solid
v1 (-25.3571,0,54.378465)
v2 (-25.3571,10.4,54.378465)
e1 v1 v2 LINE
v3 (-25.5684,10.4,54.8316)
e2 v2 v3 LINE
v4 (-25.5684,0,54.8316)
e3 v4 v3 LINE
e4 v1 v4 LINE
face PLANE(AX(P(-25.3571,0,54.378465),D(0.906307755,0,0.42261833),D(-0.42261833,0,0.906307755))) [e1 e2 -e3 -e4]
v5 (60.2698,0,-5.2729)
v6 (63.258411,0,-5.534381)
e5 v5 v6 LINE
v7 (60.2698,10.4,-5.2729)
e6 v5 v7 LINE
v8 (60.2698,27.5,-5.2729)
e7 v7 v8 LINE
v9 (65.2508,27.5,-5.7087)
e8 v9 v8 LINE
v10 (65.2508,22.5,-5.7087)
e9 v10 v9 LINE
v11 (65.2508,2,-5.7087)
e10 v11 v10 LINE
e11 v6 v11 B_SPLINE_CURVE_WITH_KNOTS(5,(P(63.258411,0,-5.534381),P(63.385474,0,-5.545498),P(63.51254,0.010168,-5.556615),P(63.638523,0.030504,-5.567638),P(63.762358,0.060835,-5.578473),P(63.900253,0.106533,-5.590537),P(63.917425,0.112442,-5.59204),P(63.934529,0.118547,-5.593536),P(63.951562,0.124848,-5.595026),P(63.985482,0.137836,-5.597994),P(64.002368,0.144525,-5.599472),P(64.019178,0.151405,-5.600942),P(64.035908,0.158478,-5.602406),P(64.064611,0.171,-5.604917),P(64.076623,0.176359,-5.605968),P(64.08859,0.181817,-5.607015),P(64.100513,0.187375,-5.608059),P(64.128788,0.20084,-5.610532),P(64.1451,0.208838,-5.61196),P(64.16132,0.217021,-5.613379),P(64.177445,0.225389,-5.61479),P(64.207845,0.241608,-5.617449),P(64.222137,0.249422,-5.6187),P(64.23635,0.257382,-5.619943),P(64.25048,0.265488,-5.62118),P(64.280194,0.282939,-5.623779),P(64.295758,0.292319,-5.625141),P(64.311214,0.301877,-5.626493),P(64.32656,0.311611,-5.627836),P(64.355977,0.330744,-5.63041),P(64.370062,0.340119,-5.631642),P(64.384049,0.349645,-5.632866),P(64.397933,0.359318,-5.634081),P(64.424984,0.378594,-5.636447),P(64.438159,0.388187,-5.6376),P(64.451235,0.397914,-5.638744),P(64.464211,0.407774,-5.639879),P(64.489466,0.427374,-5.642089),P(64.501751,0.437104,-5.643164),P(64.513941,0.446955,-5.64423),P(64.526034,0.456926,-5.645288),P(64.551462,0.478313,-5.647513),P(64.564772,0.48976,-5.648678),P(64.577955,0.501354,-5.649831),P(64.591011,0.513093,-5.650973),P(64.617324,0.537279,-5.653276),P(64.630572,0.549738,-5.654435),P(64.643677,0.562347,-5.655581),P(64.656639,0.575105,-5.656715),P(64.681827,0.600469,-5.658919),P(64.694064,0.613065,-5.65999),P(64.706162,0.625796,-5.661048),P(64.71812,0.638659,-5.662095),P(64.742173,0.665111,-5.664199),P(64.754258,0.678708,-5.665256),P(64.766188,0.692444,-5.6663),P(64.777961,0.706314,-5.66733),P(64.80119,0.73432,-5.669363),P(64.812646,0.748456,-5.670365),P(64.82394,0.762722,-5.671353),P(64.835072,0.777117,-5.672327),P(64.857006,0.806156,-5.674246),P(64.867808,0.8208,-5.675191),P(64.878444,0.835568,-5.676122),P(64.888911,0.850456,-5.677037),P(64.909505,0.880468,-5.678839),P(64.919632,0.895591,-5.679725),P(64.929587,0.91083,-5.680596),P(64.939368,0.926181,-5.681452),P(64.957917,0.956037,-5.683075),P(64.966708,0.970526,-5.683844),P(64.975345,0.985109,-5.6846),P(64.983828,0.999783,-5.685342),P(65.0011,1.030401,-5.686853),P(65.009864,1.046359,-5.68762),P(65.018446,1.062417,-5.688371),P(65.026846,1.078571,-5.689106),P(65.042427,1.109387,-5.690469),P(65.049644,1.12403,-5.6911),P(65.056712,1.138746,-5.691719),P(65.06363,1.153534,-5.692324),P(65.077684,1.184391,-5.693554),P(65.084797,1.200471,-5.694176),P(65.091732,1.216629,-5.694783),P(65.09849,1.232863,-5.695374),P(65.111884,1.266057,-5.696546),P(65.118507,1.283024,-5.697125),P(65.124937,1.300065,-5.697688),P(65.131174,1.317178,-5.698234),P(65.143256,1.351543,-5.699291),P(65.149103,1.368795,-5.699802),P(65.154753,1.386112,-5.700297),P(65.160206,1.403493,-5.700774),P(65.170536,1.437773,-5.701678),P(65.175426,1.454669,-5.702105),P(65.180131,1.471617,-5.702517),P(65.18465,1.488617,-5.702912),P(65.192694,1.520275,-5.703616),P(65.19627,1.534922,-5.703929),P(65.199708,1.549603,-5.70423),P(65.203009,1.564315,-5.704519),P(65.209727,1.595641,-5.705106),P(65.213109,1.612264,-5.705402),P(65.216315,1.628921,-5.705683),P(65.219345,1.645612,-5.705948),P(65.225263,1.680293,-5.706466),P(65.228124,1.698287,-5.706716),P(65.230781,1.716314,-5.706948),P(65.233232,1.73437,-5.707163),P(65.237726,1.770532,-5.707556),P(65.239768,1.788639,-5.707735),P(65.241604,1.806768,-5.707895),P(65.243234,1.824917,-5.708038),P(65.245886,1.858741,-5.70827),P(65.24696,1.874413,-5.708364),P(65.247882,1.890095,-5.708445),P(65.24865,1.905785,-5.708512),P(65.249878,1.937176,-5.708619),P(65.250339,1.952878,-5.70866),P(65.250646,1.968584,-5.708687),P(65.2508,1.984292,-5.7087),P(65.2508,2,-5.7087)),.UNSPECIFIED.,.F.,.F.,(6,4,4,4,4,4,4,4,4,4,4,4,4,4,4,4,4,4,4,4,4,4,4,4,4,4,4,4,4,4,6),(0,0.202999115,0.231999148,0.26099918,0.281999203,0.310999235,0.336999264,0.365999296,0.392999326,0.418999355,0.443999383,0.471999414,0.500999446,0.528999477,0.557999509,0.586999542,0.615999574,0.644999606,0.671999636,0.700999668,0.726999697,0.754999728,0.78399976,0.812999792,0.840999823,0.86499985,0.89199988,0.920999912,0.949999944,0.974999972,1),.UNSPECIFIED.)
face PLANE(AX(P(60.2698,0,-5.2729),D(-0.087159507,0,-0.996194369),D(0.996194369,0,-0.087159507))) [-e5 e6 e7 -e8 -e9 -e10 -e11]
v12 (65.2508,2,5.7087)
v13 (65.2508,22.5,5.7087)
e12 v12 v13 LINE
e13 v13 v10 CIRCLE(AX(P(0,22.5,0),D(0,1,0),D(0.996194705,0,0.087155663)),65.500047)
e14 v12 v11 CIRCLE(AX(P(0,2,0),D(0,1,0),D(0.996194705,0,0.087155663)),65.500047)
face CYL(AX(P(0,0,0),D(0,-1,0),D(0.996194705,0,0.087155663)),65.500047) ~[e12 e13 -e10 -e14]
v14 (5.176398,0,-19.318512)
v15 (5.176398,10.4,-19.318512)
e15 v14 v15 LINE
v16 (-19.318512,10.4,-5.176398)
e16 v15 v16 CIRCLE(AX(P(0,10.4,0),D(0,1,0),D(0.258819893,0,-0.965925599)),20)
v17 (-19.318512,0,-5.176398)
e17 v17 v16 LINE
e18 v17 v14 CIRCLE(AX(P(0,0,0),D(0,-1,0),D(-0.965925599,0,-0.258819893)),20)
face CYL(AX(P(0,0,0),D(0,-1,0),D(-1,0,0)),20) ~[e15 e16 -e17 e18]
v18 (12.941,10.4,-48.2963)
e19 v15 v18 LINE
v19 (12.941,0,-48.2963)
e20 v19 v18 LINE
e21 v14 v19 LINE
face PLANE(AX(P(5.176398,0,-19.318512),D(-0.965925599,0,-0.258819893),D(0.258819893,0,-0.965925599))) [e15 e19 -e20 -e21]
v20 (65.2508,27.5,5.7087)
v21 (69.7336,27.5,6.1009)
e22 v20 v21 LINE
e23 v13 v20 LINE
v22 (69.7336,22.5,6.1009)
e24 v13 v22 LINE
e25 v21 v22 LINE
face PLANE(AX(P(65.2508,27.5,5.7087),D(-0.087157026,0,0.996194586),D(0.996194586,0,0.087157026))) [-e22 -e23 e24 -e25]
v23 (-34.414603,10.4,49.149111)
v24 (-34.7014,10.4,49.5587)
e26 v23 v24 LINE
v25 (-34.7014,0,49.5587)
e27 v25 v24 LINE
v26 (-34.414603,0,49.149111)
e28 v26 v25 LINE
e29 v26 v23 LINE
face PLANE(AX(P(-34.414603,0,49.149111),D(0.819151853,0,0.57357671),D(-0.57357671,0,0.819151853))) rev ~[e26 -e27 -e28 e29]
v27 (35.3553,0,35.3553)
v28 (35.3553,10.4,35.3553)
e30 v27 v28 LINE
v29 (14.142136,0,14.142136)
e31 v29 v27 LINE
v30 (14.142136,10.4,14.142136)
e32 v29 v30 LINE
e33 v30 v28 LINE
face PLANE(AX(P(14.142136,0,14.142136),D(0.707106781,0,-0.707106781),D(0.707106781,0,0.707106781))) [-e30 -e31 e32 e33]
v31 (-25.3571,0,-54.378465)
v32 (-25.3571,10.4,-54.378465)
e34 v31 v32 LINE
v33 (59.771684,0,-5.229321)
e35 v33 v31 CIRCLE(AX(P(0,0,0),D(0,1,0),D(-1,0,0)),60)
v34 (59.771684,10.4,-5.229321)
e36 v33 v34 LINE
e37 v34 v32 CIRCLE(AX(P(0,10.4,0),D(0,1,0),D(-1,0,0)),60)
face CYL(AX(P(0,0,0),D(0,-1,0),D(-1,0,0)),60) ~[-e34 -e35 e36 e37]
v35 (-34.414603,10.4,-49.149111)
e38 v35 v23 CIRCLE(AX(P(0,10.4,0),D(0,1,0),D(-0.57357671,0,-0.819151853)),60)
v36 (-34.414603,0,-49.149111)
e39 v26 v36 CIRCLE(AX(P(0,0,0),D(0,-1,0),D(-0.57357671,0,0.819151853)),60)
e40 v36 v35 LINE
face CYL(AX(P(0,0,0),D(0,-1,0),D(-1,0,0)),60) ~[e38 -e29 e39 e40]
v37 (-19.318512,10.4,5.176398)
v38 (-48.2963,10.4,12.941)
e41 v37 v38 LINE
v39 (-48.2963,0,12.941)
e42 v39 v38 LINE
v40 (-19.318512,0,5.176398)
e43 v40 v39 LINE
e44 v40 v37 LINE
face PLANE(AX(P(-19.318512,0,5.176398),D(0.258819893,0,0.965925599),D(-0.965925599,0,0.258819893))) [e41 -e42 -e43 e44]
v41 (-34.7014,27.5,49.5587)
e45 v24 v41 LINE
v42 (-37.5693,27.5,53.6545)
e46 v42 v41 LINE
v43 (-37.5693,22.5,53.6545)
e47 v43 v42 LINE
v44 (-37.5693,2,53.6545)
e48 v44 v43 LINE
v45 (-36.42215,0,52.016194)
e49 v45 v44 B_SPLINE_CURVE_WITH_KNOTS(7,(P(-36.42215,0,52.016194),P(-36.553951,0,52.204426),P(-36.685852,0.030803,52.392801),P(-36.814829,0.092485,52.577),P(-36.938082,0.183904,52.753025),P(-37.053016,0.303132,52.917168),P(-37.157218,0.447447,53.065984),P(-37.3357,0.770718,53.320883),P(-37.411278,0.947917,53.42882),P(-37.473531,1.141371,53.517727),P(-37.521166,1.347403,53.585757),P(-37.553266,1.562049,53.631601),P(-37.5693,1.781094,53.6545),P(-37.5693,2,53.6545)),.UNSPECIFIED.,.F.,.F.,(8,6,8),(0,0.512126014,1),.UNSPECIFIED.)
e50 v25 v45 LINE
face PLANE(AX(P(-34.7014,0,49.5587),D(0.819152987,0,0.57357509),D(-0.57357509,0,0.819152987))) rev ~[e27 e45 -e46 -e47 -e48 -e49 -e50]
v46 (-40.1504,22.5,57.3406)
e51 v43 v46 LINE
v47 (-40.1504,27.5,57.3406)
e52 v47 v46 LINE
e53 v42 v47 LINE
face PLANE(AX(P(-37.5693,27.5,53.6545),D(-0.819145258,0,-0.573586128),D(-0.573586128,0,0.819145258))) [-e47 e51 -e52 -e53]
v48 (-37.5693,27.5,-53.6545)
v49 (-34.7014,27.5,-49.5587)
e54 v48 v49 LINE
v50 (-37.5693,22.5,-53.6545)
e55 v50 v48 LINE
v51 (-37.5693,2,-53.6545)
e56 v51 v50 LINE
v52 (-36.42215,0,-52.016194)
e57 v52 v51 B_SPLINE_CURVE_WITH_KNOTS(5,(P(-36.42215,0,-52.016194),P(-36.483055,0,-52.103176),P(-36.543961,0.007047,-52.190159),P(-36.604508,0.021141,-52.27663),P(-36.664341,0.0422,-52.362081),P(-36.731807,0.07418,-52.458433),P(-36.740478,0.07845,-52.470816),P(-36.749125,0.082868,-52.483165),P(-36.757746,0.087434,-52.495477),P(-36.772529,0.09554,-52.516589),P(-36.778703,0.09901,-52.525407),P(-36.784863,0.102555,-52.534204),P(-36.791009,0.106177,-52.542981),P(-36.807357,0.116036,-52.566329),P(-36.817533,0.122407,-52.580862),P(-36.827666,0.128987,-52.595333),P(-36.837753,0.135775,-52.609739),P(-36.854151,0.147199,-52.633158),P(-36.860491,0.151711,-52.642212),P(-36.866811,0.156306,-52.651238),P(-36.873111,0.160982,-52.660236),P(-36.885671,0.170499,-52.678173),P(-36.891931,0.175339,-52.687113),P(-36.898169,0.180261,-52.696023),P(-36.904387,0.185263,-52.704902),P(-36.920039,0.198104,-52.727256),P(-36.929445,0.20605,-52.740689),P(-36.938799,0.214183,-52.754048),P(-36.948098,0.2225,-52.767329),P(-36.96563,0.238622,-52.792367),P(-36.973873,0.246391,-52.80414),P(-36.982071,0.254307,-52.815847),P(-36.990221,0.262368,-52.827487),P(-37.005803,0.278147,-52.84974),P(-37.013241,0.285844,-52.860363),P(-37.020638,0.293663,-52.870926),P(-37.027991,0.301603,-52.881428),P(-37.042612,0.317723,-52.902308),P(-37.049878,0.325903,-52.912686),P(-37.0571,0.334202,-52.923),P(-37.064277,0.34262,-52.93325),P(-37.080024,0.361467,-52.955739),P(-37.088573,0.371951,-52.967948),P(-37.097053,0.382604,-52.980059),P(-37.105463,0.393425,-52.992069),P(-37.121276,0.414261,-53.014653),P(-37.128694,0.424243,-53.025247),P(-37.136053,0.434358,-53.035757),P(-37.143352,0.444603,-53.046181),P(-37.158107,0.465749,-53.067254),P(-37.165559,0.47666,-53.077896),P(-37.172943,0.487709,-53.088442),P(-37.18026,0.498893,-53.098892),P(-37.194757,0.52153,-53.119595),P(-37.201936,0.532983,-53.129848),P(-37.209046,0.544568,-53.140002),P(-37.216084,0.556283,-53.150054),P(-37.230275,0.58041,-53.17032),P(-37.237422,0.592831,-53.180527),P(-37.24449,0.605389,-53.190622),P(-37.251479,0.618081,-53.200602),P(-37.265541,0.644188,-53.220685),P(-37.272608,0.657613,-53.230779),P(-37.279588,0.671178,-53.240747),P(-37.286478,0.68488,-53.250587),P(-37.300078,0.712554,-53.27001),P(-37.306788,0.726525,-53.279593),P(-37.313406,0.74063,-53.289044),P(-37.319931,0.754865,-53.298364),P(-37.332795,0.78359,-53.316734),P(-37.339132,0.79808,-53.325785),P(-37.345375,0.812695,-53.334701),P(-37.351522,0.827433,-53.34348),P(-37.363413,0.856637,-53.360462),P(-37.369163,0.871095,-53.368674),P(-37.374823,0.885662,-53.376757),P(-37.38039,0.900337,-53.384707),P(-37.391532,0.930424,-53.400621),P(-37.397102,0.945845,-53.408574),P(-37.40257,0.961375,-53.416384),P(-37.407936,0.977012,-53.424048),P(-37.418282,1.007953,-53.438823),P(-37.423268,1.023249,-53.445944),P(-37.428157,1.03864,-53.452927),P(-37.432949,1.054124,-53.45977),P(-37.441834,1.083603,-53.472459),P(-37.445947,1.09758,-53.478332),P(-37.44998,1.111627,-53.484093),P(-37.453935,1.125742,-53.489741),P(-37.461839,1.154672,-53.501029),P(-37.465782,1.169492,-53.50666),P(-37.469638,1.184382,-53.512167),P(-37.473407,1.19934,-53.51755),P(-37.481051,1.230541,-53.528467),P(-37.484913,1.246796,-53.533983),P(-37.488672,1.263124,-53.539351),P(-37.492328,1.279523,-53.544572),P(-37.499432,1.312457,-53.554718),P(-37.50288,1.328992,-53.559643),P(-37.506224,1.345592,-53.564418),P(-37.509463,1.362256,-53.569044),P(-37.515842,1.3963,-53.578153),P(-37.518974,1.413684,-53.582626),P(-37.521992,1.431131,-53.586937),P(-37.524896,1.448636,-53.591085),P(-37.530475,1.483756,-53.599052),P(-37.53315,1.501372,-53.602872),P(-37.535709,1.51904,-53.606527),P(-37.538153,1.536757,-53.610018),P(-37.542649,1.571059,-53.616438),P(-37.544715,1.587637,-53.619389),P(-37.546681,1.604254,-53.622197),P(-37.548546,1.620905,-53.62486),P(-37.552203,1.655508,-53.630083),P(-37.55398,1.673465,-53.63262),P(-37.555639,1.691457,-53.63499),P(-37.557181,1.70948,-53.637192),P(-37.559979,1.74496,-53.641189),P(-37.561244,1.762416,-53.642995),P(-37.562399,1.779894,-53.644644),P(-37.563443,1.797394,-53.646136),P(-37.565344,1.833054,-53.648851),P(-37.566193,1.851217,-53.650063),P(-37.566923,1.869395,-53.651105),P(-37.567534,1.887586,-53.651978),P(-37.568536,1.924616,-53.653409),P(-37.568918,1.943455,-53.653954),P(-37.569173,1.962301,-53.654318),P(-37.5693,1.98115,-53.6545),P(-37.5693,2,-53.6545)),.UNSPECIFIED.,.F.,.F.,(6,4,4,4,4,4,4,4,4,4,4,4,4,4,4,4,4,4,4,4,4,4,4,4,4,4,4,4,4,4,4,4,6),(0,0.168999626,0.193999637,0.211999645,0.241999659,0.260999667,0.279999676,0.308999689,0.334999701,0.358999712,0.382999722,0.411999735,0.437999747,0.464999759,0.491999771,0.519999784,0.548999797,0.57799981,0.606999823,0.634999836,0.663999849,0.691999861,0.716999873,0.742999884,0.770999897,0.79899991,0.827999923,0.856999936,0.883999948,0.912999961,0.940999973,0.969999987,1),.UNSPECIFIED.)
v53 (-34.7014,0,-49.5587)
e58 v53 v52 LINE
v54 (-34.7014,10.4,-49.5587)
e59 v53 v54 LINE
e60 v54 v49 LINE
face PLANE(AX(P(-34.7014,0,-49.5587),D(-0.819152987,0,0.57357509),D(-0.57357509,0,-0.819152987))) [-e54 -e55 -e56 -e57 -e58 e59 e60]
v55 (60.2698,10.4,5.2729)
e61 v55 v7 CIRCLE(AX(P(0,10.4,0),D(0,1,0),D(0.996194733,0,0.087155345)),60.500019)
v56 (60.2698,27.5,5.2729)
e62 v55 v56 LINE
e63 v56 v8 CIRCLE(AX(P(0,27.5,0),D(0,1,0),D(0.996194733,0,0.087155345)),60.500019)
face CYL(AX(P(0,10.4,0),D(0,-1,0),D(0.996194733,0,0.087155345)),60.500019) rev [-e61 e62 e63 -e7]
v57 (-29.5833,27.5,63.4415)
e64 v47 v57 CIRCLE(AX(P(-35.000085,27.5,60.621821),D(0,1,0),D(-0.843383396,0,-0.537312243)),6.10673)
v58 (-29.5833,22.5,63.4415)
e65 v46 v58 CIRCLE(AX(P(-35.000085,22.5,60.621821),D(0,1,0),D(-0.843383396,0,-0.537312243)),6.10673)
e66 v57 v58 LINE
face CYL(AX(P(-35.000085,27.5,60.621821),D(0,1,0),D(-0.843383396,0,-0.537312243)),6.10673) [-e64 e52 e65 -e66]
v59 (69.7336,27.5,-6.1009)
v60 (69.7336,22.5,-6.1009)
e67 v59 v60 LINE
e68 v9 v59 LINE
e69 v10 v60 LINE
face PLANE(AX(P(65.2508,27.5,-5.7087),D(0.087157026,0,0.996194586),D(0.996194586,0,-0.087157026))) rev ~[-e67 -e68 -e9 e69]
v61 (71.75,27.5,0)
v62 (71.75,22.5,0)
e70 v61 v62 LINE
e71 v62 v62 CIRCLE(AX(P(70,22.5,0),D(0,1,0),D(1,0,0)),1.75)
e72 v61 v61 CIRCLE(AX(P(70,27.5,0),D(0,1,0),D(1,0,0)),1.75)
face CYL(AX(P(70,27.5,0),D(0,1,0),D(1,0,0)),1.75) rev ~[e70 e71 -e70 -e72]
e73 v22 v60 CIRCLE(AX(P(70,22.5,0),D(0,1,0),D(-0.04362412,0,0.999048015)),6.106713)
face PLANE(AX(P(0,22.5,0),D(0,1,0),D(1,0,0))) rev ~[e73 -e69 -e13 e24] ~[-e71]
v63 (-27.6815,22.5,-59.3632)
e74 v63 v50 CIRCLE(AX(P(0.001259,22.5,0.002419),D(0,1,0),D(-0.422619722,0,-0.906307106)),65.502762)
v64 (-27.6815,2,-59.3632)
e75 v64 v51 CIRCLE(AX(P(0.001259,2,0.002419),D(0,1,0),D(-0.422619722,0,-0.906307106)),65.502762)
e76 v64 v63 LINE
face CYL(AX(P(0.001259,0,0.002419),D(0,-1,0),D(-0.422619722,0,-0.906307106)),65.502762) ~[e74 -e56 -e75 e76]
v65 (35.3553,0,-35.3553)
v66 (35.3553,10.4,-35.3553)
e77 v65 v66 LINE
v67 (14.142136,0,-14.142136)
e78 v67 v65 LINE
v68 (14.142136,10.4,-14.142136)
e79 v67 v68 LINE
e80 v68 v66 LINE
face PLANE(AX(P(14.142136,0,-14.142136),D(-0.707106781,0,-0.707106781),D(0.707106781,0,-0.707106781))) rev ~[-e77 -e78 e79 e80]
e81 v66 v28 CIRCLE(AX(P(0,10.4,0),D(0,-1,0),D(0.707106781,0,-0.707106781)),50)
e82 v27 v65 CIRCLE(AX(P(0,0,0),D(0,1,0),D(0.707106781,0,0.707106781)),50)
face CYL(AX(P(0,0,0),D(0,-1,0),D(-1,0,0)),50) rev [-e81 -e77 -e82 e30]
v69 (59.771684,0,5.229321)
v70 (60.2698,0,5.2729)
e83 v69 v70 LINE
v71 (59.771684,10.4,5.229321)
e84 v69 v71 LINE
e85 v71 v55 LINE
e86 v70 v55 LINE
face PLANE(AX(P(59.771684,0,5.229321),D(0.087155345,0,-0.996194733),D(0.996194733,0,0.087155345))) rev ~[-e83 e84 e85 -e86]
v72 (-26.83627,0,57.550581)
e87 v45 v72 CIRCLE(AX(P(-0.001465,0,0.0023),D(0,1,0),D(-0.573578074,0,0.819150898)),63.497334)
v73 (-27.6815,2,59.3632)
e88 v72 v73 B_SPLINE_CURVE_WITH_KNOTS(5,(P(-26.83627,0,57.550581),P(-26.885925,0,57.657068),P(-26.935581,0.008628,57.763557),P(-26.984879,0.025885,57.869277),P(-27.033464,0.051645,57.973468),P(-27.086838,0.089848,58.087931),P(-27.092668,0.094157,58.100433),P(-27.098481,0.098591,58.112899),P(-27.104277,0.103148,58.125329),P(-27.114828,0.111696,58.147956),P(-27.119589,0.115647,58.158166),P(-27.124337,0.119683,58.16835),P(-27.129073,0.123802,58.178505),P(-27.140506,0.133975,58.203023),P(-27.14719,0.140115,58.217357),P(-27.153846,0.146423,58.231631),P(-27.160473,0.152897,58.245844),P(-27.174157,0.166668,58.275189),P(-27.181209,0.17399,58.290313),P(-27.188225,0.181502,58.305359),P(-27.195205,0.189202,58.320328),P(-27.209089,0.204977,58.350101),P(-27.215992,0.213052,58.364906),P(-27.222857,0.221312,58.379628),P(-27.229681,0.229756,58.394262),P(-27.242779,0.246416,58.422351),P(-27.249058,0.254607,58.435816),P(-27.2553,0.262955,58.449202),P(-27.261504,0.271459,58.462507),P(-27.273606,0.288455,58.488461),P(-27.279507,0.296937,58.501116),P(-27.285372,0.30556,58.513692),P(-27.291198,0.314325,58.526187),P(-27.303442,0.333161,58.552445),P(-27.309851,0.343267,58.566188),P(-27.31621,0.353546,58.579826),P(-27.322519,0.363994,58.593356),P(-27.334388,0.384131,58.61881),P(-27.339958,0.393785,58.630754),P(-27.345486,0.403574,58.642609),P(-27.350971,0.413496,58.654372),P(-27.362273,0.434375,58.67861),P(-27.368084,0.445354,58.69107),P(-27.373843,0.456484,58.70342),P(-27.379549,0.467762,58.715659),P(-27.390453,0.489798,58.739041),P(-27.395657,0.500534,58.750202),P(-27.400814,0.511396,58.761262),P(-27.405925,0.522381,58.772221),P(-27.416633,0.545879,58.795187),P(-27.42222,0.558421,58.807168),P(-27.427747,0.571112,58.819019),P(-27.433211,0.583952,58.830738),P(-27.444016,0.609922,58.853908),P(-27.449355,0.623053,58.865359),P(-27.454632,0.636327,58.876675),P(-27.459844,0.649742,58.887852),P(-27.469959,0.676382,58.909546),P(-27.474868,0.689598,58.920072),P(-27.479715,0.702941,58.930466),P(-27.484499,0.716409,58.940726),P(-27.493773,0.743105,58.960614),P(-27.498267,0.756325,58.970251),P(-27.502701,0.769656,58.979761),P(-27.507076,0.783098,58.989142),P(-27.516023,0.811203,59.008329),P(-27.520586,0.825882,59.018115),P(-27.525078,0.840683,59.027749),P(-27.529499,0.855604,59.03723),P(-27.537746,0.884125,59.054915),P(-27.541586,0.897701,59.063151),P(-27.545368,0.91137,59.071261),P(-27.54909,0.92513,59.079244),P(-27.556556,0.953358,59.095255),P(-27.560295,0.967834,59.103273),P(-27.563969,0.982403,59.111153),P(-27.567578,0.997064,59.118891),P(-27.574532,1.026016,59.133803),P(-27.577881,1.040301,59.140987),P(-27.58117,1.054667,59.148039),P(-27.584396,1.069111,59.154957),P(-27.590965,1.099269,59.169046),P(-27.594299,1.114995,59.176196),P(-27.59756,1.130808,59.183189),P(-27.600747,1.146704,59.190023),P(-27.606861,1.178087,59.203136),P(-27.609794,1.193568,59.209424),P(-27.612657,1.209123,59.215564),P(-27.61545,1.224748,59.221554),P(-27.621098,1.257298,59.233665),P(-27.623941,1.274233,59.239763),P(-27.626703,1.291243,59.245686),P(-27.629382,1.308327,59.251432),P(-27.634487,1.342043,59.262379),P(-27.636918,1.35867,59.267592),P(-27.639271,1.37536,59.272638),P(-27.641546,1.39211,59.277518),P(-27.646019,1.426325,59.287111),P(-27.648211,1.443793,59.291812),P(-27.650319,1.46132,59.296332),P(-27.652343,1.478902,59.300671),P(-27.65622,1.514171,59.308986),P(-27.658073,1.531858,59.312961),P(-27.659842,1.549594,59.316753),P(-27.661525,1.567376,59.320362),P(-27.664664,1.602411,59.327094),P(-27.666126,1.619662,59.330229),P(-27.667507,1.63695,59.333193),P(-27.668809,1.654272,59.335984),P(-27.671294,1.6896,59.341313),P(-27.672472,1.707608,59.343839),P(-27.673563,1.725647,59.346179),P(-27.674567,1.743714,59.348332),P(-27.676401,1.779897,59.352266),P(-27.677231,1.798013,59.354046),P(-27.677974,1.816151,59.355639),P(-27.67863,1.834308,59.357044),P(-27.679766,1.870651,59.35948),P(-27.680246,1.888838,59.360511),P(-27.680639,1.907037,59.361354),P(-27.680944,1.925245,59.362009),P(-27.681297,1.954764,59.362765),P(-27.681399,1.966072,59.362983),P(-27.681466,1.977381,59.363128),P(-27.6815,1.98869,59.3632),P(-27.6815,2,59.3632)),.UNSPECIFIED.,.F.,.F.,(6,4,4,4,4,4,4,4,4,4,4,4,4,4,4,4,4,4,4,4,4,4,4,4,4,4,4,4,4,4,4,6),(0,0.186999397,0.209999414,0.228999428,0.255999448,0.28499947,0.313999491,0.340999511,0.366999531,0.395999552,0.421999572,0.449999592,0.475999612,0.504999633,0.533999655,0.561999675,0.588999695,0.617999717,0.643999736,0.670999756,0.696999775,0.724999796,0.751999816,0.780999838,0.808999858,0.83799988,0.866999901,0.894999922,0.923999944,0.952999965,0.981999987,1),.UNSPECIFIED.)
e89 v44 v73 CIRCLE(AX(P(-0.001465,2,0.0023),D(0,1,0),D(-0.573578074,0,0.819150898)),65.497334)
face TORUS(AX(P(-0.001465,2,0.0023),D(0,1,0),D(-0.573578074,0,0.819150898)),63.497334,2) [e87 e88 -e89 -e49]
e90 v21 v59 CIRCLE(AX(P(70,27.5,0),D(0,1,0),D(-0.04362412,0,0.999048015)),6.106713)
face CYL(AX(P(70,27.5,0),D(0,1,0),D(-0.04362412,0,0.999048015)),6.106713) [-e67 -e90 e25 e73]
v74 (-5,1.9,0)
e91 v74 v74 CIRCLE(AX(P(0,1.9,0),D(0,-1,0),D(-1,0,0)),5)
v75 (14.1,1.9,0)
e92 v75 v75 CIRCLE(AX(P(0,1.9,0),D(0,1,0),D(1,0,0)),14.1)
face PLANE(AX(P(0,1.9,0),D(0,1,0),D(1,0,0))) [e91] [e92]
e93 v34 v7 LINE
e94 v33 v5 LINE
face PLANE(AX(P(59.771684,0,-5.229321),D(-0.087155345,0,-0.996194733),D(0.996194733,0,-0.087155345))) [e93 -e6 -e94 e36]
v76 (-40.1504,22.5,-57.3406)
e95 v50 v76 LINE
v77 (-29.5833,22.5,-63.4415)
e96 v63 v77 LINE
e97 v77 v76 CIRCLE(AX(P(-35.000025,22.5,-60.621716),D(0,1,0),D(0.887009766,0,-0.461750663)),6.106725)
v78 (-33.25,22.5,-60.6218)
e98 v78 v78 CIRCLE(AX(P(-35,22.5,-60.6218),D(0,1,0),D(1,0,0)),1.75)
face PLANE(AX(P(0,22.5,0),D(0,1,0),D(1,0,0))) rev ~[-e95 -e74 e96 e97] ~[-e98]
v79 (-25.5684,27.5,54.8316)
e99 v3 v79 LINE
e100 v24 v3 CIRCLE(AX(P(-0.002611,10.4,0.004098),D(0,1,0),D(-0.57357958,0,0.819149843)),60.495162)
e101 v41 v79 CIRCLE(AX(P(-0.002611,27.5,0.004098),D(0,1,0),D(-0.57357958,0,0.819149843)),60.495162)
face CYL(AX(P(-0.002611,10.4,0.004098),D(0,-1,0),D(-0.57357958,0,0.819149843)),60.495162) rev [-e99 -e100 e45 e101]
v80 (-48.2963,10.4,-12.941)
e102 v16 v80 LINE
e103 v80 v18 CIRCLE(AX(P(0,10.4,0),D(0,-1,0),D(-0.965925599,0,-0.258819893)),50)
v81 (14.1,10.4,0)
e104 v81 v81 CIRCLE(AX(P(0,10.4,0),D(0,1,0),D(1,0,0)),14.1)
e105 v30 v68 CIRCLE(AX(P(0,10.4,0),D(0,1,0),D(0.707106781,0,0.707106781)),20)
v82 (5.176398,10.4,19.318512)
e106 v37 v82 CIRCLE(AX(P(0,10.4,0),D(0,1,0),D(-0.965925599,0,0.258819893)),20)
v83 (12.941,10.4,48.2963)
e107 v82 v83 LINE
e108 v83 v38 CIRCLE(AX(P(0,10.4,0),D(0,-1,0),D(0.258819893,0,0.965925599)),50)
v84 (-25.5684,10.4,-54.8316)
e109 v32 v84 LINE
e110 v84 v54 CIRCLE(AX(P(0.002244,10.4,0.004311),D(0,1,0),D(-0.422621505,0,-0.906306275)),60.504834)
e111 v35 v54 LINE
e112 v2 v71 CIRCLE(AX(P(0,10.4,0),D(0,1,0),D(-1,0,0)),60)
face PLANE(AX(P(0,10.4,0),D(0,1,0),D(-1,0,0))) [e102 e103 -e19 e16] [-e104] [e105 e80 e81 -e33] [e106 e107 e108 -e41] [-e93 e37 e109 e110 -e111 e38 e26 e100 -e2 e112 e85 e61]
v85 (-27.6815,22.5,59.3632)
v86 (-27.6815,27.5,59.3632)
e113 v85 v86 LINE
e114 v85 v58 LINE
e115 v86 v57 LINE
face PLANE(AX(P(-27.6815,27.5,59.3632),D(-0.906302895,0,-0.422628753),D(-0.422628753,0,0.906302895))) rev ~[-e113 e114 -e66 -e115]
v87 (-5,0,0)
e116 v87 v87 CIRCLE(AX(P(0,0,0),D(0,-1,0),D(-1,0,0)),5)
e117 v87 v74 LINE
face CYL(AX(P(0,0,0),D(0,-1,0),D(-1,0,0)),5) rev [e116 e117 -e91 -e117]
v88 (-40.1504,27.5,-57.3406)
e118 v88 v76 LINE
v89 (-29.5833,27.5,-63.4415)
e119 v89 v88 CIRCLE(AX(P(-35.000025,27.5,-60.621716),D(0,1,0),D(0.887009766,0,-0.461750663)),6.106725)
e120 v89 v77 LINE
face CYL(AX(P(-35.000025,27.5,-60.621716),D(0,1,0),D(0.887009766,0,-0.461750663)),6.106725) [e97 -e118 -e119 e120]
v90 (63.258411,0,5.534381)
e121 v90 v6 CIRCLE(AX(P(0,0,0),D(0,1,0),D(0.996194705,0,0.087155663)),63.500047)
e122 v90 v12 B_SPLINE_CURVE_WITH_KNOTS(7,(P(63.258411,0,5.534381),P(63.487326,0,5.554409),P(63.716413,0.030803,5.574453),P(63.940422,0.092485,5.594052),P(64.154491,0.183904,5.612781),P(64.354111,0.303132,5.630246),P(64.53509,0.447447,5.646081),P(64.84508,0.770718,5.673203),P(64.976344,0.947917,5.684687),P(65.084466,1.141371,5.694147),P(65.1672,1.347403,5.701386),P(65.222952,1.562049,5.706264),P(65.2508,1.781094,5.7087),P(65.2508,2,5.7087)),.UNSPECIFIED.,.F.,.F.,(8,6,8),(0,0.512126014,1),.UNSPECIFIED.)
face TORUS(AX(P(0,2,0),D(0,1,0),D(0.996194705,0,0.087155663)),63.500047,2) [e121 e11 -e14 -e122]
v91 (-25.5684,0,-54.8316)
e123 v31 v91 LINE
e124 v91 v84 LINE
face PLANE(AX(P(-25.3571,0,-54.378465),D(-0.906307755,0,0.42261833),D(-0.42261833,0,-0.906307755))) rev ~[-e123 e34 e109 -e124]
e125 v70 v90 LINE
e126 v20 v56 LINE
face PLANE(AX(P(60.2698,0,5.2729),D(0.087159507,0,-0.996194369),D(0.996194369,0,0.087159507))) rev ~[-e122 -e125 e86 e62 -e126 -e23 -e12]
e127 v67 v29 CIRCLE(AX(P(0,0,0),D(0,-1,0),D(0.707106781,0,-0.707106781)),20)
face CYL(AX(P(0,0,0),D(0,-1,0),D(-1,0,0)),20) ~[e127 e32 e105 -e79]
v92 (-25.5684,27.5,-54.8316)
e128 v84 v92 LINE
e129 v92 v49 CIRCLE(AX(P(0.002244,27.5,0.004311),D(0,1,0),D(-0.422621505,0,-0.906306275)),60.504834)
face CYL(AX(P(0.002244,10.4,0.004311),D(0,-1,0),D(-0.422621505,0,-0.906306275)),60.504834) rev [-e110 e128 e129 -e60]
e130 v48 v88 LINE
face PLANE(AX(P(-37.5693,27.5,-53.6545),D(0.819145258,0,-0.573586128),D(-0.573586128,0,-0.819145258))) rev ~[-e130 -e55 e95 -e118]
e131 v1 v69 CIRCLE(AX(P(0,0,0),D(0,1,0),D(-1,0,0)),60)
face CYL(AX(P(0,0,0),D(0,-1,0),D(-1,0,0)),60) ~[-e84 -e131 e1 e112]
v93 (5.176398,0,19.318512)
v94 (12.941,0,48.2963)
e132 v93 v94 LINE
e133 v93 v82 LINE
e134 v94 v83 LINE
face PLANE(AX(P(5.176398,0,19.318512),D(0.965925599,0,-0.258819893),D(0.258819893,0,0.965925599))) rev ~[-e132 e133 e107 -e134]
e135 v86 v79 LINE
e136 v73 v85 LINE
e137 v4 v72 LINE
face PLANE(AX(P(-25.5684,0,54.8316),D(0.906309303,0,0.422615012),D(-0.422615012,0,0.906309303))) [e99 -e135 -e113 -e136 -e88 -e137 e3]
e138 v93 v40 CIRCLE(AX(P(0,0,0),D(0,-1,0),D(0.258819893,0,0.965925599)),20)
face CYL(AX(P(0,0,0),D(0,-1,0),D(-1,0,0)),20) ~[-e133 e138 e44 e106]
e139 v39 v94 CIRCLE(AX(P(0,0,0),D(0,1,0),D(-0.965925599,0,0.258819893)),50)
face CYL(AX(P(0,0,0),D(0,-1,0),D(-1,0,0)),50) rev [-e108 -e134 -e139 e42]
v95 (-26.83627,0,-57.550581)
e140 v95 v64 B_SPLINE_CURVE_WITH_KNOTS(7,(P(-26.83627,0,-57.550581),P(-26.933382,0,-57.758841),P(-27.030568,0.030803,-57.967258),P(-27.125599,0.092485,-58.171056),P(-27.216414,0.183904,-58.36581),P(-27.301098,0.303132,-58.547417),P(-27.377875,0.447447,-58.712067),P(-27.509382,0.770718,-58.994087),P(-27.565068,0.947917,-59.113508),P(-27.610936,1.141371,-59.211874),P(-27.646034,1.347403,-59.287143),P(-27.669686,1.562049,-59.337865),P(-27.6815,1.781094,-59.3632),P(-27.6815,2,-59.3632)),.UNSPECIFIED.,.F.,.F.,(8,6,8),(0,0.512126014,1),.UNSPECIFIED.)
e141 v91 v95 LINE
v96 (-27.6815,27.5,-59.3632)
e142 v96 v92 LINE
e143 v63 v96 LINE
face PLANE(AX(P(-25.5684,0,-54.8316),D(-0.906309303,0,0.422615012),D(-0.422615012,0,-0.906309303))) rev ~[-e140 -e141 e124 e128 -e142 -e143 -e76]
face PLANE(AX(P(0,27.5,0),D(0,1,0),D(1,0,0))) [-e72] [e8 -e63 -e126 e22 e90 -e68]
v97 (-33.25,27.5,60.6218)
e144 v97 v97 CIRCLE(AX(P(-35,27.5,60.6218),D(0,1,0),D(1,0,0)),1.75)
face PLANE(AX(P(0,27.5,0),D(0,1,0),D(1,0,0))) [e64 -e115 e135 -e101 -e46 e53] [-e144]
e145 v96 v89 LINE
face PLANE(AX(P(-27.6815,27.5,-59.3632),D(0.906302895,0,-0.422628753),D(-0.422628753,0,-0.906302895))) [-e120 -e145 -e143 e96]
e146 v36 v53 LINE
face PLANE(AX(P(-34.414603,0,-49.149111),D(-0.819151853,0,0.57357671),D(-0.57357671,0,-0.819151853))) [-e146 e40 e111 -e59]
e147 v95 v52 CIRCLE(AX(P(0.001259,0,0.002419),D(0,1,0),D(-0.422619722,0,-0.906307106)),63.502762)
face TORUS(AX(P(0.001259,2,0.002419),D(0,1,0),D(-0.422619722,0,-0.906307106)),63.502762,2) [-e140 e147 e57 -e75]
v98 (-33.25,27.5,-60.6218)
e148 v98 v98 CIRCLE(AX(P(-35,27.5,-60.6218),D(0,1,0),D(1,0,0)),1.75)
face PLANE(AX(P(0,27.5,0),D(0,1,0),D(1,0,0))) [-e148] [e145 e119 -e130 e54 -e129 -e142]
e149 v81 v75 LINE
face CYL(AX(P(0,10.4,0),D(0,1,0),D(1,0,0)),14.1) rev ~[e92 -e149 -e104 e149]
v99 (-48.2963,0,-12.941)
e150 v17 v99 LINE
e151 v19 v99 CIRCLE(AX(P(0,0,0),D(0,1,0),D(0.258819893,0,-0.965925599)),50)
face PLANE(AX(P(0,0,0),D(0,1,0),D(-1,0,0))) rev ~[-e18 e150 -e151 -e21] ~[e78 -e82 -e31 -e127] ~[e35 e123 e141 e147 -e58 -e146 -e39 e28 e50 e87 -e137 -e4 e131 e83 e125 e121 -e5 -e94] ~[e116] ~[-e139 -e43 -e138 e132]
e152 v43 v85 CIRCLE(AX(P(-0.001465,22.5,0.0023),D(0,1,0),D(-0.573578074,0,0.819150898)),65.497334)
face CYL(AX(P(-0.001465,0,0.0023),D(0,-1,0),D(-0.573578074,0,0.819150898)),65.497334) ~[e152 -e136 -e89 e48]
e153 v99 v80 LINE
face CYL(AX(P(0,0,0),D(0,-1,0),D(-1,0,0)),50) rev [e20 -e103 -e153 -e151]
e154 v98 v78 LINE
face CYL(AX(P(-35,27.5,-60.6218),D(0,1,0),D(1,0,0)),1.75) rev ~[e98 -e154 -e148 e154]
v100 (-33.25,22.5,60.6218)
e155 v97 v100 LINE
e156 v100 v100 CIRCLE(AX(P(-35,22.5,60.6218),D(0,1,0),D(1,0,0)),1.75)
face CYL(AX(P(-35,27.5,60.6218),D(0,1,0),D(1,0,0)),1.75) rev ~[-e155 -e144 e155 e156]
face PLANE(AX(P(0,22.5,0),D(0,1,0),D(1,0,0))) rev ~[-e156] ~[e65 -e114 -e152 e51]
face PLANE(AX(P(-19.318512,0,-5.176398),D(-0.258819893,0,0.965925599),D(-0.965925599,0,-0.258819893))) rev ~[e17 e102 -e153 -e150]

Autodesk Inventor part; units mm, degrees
ref_plane "YZ Plane" through (0, 0, 0) normal (1, 0, 0) x (0, 1, 0)
ref_plane "XZ Plane" through (0, 0, 0) normal (0, 1, 0) x (-1, 0, 0)
ref_plane "XY Plane" through (0, 0, 0) normal (0, 0, 1) x (1, 0, 0)
sketch "Sketch1" plane through (0, 0, 0) normal (0, 1, 0) x (-1, 0, 0)
  line L0 (0, 0) -> (48.2963, -12.941)
  line L1 (0, 0) -> (50, 0) construction
  line L2 (0, 0) -> (48.2963, 12.941)
  line L3 (0, 0) -> (50, 0) construction
  arc A0 (48.2963, -12.941) -> (48.2963, 12.941) centre (0, 0) ccw
  arc A1 (-12.941, 48.2963) -> (-35.3553, 35.3553) centre (0, 0) ccw
  line L4 (0, 0) -> (-12.941, 48.2963)
  line L5 (0, 0) -> (-35.3553, 35.3553)
  arc A2 (-35.3553, -35.3553) -> (-12.941, -48.2963) centre (0, 0) ccw
  line L6 (0, 0) -> (-35.3553, -35.3553)
  line L7 (0, 0) -> (-12.941, -48.2963)
  circle A3 centre (0, 0) radius 5
  circle A4 centre (0, 0) radius 20
  line L8 (0, 0) -> (34.7014, -49.5587)
  line L9 (0, 0) -> (60.5, 0) construction
  line L10 (0, 0) -> (25.5684, -54.8316)
  line L11 (0, 0) -> (60.5, 0) construction
  line L12 (25.5684, -54.8316) -> (27.6815, -59.3632)
  line L13 (34.7014, -49.5587) -> (37.5693, -53.6545)
  arc A5 (27.6815, -59.3632) -> (37.5693, -53.6545) centre (0, 0) ccw
  circle A6 centre (0, 0) radius 50
  circle A7 centre (0, 0) radius 60
  line L14 (0, 0) -> (25.5684, 54.8316)
  line L15 (25.5684, 54.8316) -> (27.6815, 59.3632)
  arc A8 (37.5693, 53.6545) -> (27.6815, 59.3632) centre (0, 0) ccw
  line L16 (0, 0) -> (34.7014, 49.5587)
  line L17 (34.7014, 49.5587) -> (37.5693, 53.6545)
  line L18 (0, 0) -> (-60.2698, -5.2729)
  line L19 (-60.2698, -5.2729) -> (-65.2508, -5.7087)
  arc A9 (-65.2508, 5.7087) -> (-65.2508, -5.7087) centre (0, 0) ccw
  line L20 (0, 0) -> (-60.2698, 5.2729)
  line L21 (-60.2698, 5.2729) -> (-65.2508, 5.7087)
  point P0 (19.3185, -5.1764)
  point P1 (19.3185, 5.1764)
  point P2 (-5.1764, 19.3185)
  point P3 (-14.1421, 14.1421)
  point P4 (-14.1421, -14.1421)
  point P5 (-5.1764, -19.3185)
  point P6 (8.4524, -18.1262)
  point P7 (11.4715, -16.383)
  point P8 (-35.3553, -35.3553)
  point P9 (-35.3553, 35.3553)
  point P10 (-12.941, 48.2963)
  point P11 (-12.941, -48.2963)
  point P12 (25.3571, -54.3785)
  point P13 (34.4146, -49.1491)
  point P14 (34.4146, 49.1491)
  point P15 (25.3571, 54.3785)
  point P16 (-59.7717, 5.2293)
  point P17 (-59.7717, -5.2293)
  dimension "d0" = 50
  dimension "d1" = 15
  dimension "d2" = 50
  dimension "d3" = 15
  dimension "d4" = 50
  dimension "d7" = 360
  dimension "d9" = 10
  dimension "d10" = 40
  dimension "d11" = 60.5
  dimension "d12" = 55
  dimension "d13" = 60.5
  dimension "d14" = 65
  dimension "d16" = 5
  dimension "d17" = 5
  dimension "d18" = 65.5
  dimension "d25" = 100
  dimension "d26" = 120
  dimension "d29" = 360
extrude "Extrusion2" add sketch "Sketch1" along normal blind 10.4 contours A3 L2 A4 L0 | L0 A4 L8 A3 | A3 L16 A4 L2 | A3 L5 A4 L4 | L4 A4 L14 A3 | A3 L20 A4 L5 | A3 L7 A4 L6 | L6 A4 L18 A3 | A3 L10 A4 L7 | L8 A4 L10 A3 | L14 A4 L16 A3 | L18 A4 L20 A3 | A4 L2 A0 L0 | A4 L5 A1 L4 | A4 L7 A2 L6 | A0 A6 L16 A7 L8 | A1 A6 L20 A7 L14 | A2 A6 L10 A7 L18 | L8 A7 L10 A6 | L14 A7 L16 A6 | L18 A7 L20 A6 | L8 L13 A5 L12 L10 A7 | L14 L15 A8 L17 L16 A7 | L18 L19 A9 L21 L20 A7
sketch "Sketch3" plane through (0, 10.4, 0) normal (0, 1, 0) x (1, 0, 0)
  circle A0 centre (0, 0) radius 5 projected
  arc A1 (65.2508, -5.7087) -> (65.2508, 5.7087) centre (0, 0) ccw projected
  arc A2 (65.2508, -5.7087) -> (65.2508, 5.7087) centre (0, 0) ccw
  line L0 (65.2508, 5.7087) -> (60.2698, 5.2729)
  line L1 (65.2508, 5.7087) -> (59.7717, 5.2293) projected
  line L2 (65.2508, -5.7087) -> (60.2698, -5.2729)
  line L3 (59.7717, -5.2293) -> (65.2508, -5.7087) projected
  arc A3 (60.2698, -5.2729) -> (60.2698, 5.2729) centre (0, 0) ccw
  arc A4 (-27.6815, 59.3632) -> (-37.5693, 53.6545) centre (0, 0) ccw
  line L4 (-37.5693, 53.6545) -> (-34.7014, 49.5587)
  arc A5 (-25.5684, 54.8316) -> (-34.7014, 49.5587) centre (0, 0) ccw
  line L5 (-27.6815, 59.3632) -> (-25.5684, 54.8316)
  arc A6 (-37.5693, -53.6545) -> (-27.6815, -59.3632) centre (0, 0) ccw
  line L6 (-27.6815, -59.3632) -> (-25.5684, -54.8316)
  arc A7 (-34.7014, -49.5587) -> (-25.5684, -54.8316) centre (0, 0) ccw
  line L7 (-37.5693, -53.6545) -> (-34.7014, -49.5587)
  dimension "d40" = 5
  dimension "d41" = 5
  dimension "d42" = 60.5
  dimension "d45" = 360
extrude "Extrusion3" add sketch "Sketch3" along normal blind 17.1 contours L2 A3 L0 A1 | L5 A5 L4 A4 | L7 A7 L6 A6
sketch "Sketch4" plane through (0, 27.5, 0) normal (0, 1, 0) x (1, 0, 0)
  arc A0 (-27.6815, 59.3632) -> (-37.5693, 53.6545) centre (0, 0) ccw projected
  arc A1 (-27.6815, 59.3632) -> (-37.5693, 53.6545) centre (0, 0) ccw
  line L0 (-27.6815, 59.3632) -> (-29.5833, 63.4415)
  line L1 (-27.6815, 59.3632) -> (-23.1815, 59.3632) construction
  line L2 (-37.5693, 53.6545) -> (-40.1504, 57.3406)
  line L3 (-37.5693, 53.6545) -> (-33.0693, 53.6545) construction
  circle A2 centre (-35, 60.6218) radius 1.75
  arc A3 (-29.5833, 63.4415) -> (-40.1504, 57.3406) centre (-35, 60.6218) ccw
  arc A4 (-40.1504, -57.3406) -> (-29.5833, -63.4415) centre (-35, -60.6218) ccw
  circle A5 centre (-35, -60.6218) radius 1.75
  line L4 (-37.5693, -53.6545) -> (-40.1504, -57.3406)
  line L5 (-27.6815, -59.3632) -> (-29.5833, -63.4415)
  arc A6 (-37.5693, -53.6545) -> (-27.6815, -59.3632) centre (0, 0) ccw
  arc A7 (69.7336, -6.1009) -> (69.7336, 6.1009) centre (70, 0) ccw
  circle A8 centre (70, 0) radius 1.75
  line L6 (65.2508, -5.7087) -> (69.7336, -6.1009)
  line L7 (65.2508, 5.7087) -> (69.7336, 6.1009)
  arc A9 (65.2508, -5.7087) -> (65.2508, 5.7087) centre (0, 0) ccw
  point P0 (0, 0)
  dimension "d50" = 4.5
  dimension "d51" = 115
  dimension "d52" = 4.5
  dimension "d53" = 125
  dimension "d63" = 3.5
  dimension "d66" = 360
  dimension "d70" = 70
extrude "Extrusion5" add sketch "Sketch4" against normal blind 5
sketch "Sketch5" plane through (0, 10.4, 0) normal (0, 1, 0) x (1, 0, 0)
  circle A0 centre (0, 0) radius 14.1
  dimension "d71" = 28.2
extrude "Extrusion6" cut sketch "Sketch5" against normal blind 8.5
fillet "Fillet1" radius 2 3 edges at (-32.75, 0, -56.7247) (-32.75, 0, 56.7247) (65.5, 0, 0)
properties part number "MechSwitch_DielecTopV2"
